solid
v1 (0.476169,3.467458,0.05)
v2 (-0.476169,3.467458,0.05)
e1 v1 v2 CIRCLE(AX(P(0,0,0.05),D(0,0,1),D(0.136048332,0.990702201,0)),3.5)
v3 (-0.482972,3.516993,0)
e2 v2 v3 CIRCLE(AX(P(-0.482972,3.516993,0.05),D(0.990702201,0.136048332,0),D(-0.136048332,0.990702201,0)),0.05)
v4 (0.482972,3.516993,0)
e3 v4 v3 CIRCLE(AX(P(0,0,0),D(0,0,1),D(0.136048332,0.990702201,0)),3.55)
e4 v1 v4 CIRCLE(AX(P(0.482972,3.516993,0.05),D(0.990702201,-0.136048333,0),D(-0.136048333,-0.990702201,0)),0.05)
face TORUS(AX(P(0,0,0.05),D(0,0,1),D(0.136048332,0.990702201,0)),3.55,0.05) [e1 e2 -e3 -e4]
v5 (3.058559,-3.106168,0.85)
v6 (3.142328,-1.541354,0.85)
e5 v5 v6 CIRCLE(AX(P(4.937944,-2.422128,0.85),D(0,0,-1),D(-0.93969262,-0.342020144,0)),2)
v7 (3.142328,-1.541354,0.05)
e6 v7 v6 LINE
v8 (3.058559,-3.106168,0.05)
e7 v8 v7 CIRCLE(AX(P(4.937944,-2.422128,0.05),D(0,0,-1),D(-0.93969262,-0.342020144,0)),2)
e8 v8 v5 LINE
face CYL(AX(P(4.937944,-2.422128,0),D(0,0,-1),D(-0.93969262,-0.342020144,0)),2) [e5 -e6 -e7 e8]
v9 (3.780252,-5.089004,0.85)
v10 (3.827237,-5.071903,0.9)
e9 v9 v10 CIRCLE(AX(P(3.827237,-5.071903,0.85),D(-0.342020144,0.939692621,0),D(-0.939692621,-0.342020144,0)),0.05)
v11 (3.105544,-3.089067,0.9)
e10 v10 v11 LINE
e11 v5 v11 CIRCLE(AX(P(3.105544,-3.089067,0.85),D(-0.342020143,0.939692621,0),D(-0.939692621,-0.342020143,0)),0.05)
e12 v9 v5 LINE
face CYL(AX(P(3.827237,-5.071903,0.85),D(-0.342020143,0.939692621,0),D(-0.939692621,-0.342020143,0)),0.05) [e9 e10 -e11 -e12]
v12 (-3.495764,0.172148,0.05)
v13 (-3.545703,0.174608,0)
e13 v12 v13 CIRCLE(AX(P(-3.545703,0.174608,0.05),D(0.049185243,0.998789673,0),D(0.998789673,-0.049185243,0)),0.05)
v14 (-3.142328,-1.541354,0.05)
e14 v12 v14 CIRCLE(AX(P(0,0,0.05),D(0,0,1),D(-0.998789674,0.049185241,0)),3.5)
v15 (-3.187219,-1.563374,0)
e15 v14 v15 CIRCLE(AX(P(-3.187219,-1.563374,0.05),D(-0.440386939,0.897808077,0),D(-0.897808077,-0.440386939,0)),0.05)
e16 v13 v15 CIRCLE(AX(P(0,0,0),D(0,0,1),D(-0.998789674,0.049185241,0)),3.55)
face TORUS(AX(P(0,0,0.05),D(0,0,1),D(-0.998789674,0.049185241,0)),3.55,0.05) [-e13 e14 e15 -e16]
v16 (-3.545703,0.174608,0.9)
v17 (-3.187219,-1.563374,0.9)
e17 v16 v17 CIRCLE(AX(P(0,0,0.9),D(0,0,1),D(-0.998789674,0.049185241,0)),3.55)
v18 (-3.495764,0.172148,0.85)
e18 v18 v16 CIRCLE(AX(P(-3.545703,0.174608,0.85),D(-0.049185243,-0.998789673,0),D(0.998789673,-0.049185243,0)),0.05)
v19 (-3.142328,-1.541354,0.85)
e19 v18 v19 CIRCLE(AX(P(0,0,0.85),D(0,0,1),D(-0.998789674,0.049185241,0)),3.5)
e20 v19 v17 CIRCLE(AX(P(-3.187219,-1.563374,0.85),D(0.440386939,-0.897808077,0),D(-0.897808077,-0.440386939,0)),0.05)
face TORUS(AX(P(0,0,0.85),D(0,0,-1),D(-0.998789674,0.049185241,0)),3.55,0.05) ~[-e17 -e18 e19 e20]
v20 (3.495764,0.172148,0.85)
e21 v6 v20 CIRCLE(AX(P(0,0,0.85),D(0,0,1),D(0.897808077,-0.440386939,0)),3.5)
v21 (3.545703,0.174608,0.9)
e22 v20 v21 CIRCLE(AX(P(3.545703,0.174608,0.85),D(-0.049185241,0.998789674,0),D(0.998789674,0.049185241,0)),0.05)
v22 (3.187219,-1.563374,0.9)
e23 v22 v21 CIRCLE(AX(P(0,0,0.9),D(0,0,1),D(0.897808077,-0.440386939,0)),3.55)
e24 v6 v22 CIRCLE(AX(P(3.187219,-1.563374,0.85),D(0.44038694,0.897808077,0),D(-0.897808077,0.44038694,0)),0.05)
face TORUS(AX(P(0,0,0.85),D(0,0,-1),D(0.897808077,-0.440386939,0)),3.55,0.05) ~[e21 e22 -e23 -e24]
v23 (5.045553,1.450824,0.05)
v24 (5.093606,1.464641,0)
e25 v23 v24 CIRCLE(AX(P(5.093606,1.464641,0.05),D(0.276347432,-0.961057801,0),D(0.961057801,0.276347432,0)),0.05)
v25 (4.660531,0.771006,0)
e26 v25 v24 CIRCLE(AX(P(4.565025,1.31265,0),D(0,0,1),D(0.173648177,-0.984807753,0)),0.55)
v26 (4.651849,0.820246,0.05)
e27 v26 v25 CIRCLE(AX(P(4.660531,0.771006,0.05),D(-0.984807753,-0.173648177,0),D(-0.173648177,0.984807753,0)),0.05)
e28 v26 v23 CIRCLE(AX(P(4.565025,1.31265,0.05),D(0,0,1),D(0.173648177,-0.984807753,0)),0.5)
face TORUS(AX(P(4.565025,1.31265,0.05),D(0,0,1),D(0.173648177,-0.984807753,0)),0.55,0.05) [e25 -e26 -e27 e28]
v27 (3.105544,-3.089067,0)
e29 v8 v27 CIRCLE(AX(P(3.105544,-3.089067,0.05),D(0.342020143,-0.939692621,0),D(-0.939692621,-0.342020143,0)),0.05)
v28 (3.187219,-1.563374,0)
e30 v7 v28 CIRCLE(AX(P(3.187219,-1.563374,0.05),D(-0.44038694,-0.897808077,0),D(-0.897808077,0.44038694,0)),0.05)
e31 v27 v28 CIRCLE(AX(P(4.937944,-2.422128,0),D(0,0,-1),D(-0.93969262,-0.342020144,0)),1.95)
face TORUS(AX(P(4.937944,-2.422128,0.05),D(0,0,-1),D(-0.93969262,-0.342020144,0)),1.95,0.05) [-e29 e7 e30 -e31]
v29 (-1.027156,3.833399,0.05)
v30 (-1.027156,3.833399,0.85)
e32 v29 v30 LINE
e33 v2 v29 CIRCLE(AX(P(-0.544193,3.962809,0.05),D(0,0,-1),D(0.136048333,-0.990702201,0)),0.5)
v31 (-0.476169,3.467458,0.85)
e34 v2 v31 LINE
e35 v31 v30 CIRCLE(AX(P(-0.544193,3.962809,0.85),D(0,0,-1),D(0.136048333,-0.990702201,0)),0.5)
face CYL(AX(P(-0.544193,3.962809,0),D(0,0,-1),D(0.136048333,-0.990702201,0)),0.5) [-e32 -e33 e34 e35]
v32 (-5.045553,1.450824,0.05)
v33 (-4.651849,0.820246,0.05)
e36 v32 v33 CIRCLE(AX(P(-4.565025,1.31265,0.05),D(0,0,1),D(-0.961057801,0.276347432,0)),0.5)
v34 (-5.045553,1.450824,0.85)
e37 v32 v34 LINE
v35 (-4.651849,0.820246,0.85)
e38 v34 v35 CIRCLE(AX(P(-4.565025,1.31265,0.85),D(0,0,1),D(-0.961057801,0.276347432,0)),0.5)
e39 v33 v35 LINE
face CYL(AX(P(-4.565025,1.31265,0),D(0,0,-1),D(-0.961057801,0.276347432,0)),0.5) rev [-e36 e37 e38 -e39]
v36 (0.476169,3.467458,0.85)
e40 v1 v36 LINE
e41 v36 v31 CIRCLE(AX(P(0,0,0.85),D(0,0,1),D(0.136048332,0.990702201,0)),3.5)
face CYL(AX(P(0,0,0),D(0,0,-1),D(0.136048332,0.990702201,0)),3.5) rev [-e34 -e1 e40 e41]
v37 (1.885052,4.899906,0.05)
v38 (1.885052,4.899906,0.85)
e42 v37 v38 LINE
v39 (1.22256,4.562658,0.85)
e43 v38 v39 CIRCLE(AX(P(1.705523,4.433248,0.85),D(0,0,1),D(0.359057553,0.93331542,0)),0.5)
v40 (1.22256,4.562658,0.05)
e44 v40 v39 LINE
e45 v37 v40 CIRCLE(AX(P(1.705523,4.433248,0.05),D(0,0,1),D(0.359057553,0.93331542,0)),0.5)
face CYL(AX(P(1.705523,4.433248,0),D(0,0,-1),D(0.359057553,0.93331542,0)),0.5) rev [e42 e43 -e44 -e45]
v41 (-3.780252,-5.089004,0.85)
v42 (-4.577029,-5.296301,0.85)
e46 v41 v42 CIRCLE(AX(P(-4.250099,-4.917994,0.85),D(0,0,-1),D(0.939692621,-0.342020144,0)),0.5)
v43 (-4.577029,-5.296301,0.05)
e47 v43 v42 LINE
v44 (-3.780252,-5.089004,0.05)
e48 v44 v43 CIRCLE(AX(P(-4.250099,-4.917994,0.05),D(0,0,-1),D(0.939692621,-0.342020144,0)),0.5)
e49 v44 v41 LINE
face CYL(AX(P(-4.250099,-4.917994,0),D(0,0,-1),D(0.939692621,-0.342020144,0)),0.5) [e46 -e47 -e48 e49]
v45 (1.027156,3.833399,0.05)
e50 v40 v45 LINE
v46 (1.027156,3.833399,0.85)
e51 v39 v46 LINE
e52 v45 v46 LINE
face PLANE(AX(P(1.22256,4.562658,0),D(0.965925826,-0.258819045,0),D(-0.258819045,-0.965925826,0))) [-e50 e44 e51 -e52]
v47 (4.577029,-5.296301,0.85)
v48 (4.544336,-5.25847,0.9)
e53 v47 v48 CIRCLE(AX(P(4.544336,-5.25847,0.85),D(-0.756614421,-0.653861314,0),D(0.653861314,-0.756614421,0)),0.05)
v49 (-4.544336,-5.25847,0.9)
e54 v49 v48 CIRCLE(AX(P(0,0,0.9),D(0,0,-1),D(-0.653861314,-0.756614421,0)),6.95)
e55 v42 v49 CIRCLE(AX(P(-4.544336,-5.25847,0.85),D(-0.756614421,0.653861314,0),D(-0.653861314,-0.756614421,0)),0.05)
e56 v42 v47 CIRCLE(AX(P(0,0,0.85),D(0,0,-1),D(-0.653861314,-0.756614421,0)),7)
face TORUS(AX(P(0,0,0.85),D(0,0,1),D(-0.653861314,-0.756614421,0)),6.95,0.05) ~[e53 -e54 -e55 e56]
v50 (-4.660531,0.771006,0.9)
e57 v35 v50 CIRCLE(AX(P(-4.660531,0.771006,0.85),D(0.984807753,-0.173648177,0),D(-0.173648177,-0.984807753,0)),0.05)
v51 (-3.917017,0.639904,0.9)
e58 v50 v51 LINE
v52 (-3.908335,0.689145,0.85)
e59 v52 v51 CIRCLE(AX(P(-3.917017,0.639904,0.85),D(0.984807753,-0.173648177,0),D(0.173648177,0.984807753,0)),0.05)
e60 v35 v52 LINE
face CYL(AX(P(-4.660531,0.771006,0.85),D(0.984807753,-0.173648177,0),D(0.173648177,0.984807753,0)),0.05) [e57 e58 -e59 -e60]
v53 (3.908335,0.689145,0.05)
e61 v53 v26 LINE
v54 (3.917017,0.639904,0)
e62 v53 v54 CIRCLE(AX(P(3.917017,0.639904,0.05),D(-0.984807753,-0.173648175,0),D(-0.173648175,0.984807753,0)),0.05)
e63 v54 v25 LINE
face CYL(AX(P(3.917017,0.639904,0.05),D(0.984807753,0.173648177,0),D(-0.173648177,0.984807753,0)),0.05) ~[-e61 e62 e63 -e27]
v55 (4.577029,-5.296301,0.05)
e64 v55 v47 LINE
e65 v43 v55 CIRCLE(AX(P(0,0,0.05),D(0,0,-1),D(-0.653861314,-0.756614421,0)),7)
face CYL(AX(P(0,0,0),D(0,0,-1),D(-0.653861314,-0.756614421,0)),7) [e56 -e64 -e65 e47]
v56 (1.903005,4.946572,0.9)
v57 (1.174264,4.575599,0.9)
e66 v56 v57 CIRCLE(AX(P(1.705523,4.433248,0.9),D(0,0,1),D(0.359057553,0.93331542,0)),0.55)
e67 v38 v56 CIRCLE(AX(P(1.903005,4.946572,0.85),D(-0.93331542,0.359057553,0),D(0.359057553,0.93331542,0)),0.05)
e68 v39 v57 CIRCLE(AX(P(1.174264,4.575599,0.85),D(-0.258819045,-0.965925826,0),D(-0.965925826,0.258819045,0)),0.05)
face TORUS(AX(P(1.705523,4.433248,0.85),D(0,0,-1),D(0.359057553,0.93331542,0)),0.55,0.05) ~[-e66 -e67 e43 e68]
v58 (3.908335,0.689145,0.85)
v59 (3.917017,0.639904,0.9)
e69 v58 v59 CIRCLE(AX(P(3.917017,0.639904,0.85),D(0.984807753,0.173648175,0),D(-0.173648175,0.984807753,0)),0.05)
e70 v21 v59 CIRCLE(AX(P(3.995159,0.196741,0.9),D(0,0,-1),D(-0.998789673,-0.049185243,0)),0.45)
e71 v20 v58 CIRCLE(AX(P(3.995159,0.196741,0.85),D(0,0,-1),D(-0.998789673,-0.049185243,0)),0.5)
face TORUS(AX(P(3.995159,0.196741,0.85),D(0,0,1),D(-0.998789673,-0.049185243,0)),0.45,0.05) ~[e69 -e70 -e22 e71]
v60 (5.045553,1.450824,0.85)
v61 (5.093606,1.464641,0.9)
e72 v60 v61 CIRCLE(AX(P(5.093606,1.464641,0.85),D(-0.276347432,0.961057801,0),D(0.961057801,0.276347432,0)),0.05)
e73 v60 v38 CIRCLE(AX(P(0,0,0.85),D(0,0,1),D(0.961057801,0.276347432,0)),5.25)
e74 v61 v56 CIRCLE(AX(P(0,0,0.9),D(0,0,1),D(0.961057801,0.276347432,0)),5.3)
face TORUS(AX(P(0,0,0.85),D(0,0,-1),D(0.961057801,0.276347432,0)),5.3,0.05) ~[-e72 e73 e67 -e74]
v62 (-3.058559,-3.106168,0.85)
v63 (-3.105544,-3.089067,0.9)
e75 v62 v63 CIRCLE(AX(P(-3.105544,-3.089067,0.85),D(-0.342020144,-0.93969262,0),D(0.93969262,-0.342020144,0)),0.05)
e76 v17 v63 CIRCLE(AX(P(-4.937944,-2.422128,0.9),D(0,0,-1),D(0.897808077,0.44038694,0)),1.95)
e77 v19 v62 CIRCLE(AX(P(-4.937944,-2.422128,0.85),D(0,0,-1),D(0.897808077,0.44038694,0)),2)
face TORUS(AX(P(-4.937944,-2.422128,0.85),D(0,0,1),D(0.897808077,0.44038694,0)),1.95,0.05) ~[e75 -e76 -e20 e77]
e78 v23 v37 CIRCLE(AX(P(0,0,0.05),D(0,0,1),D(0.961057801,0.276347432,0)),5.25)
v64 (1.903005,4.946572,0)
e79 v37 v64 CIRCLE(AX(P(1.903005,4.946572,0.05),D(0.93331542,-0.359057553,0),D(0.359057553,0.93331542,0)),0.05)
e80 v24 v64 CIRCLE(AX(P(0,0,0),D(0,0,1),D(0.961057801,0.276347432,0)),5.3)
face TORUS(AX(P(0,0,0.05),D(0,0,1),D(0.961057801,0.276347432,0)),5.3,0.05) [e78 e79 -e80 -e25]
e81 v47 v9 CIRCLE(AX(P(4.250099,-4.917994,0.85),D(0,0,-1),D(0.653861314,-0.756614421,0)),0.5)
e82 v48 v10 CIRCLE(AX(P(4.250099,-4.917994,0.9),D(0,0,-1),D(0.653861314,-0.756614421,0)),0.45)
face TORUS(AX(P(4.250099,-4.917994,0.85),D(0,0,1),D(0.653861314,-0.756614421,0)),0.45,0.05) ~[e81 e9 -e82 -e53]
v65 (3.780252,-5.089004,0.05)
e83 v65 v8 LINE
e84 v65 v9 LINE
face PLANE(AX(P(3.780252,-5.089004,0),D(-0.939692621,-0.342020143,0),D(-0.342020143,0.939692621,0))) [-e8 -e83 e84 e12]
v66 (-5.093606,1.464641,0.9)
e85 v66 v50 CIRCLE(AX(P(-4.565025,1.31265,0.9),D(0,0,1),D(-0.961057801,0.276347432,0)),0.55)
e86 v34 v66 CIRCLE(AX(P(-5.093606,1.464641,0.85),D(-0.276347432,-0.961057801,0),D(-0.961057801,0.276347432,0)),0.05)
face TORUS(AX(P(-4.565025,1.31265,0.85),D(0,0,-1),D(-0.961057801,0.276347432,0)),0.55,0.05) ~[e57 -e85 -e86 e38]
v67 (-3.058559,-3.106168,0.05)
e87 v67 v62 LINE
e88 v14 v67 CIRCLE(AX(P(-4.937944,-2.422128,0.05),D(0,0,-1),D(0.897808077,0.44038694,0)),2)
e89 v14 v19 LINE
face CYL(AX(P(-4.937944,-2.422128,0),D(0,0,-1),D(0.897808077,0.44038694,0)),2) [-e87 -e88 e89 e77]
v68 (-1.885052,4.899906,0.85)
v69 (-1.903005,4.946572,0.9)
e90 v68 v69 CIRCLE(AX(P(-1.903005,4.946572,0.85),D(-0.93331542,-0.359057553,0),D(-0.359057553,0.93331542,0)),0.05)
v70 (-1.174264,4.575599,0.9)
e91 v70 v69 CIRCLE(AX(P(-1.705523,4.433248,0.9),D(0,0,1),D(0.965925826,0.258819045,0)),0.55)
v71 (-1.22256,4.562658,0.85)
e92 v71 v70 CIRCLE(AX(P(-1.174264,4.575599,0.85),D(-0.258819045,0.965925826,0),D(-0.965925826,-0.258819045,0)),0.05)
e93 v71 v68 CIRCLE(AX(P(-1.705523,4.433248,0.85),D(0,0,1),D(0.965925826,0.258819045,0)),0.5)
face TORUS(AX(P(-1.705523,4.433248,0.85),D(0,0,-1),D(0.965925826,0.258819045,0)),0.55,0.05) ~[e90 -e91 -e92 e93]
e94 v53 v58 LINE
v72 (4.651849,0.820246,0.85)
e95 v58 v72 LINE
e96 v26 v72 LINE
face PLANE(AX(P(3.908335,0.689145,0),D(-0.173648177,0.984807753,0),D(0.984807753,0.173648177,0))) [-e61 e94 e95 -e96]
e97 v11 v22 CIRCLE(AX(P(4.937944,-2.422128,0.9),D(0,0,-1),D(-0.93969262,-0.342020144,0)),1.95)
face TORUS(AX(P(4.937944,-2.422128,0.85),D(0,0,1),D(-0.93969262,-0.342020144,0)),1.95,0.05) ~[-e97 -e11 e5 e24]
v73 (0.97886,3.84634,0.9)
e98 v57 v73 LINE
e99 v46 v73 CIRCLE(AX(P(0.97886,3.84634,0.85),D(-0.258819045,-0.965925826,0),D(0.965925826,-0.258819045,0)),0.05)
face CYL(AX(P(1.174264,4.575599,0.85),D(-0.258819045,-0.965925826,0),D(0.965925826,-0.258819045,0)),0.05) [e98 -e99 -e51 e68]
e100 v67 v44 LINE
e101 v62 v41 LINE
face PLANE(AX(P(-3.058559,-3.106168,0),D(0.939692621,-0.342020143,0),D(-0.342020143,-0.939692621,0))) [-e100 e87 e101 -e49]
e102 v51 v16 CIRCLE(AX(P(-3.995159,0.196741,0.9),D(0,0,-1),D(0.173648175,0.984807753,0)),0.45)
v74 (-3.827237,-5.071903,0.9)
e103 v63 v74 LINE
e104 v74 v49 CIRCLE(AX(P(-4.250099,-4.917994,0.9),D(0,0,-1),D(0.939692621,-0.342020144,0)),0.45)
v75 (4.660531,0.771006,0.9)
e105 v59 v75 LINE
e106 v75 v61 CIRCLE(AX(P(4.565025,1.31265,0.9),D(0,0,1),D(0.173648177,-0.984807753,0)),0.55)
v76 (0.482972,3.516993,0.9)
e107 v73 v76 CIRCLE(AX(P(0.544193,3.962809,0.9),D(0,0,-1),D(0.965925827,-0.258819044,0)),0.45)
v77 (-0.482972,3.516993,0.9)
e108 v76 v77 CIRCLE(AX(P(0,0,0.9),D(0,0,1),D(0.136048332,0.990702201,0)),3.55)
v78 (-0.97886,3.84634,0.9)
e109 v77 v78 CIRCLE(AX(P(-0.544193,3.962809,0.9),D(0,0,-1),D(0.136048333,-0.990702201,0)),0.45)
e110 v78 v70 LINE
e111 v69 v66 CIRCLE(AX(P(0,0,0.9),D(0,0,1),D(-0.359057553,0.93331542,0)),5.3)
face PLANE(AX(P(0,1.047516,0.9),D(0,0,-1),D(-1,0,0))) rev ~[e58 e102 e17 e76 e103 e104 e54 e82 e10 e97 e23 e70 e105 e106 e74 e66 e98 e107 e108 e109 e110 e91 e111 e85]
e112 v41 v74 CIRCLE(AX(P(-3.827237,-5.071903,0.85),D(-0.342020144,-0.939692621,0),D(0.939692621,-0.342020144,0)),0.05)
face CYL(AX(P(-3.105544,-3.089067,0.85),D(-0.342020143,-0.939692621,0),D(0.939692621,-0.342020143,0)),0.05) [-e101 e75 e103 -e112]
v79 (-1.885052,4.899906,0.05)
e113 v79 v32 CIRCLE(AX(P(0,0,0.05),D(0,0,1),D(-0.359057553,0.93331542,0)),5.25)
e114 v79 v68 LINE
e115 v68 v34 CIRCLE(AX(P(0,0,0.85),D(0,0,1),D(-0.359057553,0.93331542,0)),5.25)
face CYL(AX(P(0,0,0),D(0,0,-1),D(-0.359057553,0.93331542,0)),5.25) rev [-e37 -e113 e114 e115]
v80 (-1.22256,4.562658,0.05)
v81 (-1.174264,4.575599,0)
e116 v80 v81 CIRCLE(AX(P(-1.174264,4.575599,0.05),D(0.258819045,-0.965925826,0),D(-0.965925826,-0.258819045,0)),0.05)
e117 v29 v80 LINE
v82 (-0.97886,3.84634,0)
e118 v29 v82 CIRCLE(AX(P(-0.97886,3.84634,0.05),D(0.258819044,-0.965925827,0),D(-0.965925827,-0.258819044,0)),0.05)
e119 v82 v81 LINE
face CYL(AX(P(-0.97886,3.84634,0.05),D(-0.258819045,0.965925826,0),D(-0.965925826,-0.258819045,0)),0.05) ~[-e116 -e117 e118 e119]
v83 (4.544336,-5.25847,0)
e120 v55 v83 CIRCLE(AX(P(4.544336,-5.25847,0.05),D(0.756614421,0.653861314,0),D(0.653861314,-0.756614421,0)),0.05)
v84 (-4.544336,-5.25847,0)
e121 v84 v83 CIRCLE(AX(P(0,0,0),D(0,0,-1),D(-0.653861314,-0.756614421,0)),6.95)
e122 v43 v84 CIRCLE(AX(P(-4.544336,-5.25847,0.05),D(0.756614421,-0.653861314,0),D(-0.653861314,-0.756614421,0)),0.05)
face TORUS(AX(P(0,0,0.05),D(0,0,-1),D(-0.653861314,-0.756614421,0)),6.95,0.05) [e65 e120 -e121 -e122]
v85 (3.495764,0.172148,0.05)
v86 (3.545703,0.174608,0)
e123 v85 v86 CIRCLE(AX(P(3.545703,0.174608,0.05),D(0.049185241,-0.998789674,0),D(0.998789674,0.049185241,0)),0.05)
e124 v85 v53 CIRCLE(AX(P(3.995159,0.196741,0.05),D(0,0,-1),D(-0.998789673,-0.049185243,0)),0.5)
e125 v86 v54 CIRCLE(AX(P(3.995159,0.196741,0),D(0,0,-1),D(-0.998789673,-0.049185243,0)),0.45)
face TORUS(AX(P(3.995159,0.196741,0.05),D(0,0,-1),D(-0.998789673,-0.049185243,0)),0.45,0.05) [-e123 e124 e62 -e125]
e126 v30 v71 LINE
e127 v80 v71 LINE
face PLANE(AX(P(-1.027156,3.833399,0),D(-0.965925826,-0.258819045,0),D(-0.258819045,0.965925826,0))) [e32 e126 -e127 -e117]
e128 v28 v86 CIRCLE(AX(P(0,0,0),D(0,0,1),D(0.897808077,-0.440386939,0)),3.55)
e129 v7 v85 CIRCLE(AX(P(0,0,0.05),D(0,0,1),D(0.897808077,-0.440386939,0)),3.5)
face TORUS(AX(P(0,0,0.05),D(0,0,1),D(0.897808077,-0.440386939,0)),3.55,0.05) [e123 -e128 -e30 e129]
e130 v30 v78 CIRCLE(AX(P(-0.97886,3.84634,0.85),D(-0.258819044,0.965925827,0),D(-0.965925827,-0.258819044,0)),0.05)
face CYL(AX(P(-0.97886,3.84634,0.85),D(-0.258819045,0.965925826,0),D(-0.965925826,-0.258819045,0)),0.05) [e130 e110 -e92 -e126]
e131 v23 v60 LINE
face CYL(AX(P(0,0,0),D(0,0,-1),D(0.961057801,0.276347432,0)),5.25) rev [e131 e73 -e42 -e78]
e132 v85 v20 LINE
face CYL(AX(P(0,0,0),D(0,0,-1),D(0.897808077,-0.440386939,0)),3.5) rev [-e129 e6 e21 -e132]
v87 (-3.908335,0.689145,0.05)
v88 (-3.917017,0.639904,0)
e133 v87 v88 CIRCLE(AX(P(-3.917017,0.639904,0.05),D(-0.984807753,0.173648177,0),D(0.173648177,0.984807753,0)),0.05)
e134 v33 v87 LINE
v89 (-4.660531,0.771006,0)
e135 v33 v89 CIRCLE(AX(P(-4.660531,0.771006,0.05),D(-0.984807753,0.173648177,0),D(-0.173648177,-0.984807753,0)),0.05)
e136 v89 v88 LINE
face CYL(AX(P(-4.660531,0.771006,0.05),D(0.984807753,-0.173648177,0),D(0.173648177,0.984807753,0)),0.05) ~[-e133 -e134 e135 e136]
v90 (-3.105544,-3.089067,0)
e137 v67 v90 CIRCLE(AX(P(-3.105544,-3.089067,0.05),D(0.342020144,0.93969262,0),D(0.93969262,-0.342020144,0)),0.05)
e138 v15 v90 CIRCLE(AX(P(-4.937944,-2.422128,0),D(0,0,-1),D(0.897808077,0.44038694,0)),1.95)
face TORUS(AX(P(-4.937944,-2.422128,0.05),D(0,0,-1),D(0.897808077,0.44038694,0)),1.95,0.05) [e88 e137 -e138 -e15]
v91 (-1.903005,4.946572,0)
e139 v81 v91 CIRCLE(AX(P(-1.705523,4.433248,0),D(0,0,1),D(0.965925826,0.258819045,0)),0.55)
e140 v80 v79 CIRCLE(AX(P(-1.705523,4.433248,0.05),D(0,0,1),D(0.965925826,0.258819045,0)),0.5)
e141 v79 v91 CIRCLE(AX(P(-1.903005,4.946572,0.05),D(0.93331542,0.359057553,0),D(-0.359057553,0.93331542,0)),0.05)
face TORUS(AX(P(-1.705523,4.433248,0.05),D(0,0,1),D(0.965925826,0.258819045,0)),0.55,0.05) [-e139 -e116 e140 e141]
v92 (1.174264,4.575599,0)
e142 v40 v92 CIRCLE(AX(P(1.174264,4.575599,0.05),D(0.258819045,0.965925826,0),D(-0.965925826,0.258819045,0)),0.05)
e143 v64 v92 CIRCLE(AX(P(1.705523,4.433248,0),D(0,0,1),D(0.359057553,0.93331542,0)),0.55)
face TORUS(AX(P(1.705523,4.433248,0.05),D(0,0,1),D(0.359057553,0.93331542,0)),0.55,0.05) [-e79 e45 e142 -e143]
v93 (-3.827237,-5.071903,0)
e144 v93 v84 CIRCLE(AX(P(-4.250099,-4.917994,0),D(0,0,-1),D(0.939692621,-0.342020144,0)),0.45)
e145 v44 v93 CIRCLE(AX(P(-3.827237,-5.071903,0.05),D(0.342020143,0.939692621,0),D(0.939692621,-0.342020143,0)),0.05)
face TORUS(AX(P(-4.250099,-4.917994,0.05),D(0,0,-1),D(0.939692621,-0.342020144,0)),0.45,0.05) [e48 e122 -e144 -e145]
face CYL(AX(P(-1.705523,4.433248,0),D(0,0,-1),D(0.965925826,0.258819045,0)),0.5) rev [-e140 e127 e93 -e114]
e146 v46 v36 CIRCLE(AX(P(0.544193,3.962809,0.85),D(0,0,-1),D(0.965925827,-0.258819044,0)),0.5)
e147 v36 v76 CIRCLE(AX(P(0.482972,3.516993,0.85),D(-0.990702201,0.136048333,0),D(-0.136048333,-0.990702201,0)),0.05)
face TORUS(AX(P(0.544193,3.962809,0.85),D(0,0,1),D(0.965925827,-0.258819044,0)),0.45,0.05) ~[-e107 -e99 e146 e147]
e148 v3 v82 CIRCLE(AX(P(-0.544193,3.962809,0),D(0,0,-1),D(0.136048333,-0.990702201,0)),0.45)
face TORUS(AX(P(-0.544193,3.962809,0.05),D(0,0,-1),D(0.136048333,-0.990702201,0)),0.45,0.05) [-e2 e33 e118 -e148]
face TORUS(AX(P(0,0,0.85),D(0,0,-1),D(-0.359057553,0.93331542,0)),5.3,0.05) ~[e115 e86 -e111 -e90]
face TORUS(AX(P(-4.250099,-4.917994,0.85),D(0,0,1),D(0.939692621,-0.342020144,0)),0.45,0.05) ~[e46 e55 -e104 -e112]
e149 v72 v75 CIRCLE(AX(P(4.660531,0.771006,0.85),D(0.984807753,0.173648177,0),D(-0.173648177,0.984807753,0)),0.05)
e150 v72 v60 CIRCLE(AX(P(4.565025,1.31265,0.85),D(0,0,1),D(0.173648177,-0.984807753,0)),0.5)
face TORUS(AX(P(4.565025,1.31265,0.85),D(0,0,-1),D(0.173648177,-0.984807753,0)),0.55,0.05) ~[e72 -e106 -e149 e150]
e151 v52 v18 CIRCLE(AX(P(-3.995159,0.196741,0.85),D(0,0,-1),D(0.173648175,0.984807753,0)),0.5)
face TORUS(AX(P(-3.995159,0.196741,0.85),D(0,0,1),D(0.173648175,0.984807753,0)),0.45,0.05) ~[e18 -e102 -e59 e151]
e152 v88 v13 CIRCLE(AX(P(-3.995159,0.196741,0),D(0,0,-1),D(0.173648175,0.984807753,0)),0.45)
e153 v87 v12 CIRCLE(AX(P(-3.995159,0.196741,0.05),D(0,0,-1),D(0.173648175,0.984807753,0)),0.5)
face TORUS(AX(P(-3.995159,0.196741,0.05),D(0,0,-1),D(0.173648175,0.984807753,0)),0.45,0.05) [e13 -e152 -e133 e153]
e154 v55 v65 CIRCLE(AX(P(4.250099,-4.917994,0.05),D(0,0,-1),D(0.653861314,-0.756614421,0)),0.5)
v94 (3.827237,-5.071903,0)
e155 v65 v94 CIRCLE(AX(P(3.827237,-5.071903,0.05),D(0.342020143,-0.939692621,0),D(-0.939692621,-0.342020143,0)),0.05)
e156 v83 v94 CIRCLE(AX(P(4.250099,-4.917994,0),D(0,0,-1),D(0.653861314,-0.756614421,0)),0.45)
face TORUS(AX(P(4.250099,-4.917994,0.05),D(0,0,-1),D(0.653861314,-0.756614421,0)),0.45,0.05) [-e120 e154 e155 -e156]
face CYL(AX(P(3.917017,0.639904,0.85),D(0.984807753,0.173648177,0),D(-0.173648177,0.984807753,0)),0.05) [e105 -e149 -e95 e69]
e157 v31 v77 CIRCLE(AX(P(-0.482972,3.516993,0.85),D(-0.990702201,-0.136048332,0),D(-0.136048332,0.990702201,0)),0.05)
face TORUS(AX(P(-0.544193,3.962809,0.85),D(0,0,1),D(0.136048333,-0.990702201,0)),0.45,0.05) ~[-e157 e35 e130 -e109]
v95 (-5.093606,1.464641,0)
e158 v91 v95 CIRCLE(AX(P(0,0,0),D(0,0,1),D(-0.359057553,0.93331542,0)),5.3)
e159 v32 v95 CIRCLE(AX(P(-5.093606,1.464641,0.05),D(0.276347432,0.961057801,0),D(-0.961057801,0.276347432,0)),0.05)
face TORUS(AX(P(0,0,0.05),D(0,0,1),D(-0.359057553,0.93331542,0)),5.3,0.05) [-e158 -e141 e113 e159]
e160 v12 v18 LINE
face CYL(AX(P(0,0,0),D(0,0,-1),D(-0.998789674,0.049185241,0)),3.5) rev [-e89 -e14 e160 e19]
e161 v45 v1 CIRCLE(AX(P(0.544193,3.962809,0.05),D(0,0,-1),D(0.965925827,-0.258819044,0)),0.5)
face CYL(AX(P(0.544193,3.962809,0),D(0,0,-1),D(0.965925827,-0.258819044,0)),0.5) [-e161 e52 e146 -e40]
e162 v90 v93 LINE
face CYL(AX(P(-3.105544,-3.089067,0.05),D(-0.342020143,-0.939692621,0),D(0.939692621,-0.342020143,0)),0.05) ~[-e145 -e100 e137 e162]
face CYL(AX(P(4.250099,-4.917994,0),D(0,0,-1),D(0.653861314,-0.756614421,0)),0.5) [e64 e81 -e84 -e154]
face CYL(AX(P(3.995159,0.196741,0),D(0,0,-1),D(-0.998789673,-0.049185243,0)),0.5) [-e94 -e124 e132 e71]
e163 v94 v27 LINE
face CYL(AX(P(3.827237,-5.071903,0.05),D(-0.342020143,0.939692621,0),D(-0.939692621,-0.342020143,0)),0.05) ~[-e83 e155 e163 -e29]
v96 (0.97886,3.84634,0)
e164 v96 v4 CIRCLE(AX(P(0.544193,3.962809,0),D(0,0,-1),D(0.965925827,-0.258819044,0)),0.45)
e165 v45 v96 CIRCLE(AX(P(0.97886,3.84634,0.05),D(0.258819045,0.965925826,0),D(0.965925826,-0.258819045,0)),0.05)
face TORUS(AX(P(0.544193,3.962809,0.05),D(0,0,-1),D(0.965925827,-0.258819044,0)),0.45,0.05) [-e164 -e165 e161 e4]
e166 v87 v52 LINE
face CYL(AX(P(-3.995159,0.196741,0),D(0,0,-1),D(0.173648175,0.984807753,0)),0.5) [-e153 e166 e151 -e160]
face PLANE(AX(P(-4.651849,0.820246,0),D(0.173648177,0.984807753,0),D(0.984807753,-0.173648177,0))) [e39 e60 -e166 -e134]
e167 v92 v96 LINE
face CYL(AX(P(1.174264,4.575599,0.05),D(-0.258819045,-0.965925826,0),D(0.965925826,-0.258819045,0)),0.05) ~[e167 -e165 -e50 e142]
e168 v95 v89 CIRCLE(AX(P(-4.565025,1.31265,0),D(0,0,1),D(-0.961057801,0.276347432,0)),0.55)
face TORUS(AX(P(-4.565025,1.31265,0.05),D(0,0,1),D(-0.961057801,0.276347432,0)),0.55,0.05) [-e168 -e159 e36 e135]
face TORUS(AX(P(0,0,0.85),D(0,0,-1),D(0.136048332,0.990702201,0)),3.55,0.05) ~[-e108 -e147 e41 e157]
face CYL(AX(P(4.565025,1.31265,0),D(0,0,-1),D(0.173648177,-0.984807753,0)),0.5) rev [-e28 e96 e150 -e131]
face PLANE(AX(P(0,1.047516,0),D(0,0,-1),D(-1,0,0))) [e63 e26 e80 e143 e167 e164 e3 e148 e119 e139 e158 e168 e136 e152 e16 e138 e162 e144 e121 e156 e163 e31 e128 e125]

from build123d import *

# Parameters (mm, degrees)
EXTRUDE_1_DEPTH = 0.9
FILLET_1_R      = 0.05


with BuildPart() as part:
    # 草图1 → 凸台-拉伸1 (new body)
    with BuildSketch(Plane.XY):
        with BuildLine():
            Line((-3.058559184, -3.106168453), (-3.780252232, -5.089003807))
            ThreePointArc((-3.780252232, -5.089003807), (-4.12420475, -5.401884997), (-4.5770292, -5.296300946))
            ThreePointArc((-4.5770292, -5.296300946), (0, 7), (4.5770292, -5.296300946))
            ThreePointArc((4.5770292, -5.296300946), (4.12420475, -5.401884997), (3.780252232, -5.089003807))
            Line((3.780252232, -5.089003807), (3.058559184, -3.106168453))
            ThreePointArc((3.058559184, -3.106168453), (2.940804055, -2.315215391), (3.142328271, -1.541354288))
            ThreePointArc((3.142328271, -1.541354288), (3.427840369, -0.707043427), (3.495763858, 0.172148344))
            ThreePointArc((3.495763858, 0.172148344), (3.604346077, 0.508615135), (3.908334606, 0.689144841))
            Line((3.908334606, 0.689144841), (4.651848643, 0.820246426))
            ThreePointArc((4.651848643, 0.820246426), (4.989146446, 1.047847317), (5.045553455, 1.450824019))
            ThreePointArc((5.045553455, 1.450824019), (3.870706018, 3.54684859), (1.885052154, 4.899905956))
            ThreePointArc((1.885052154, 4.899905956), (1.478692705, 4.878835326), (1.222560464, 4.562657768))
            Line((1.222560464, 4.562657768), (1.027156242, 3.833399282))
            ThreePointArc((1.027156242, 3.833399282), (0.82081916, 3.546301722), (0.476169163, 3.467457704))
            ThreePointArc((0.476169163, 3.467457704), (0, 3.5), (-0.476169163, 3.467457704))
            ThreePointArc((-0.476169163, 3.467457704), (-0.82081916, 3.546301722), (-1.027156242, 3.833399282))
            Line((-1.027156242, 3.833399282), (-1.222560464, 4.562657768))
            ThreePointArc((-1.222560464, 4.562657768), (-1.478692705, 4.878835326), (-1.885052154, 4.899905956))
            ThreePointArc((-1.885052154, 4.899905956), (-3.870706018, 3.54684859), (-5.045553455, 1.450824019))
            ThreePointArc((-5.045553455, 1.450824019), (-4.989146446, 1.047847317), (-4.651848643, 0.820246426))
            Line((-4.651848643, 0.820246426), (-3.908334606, 0.689144841))
            ThreePointArc((-3.908334606, 0.689144841), (-3.604346077, 0.508615135), (-3.495763858, 0.172148344))
            ThreePointArc((-3.495763858, 0.172148344), (-3.427840369, -0.707043427), (-3.142328271, -1.541354288))
            ThreePointArc((-3.142328271, -1.541354288), (-2.940804055, -2.315215391), (-3.058559184, -3.106168453))
        make_face()
    extrude(amount=EXTRUDE_1_DEPTH)

    # 圆角1
    fillet_1_edges = [part.edges().sort_by_distance(p)[0] for p in [
        (-4.12420475, -5.401884997, 0.9),
        (-3.419405708, -4.09758613, 0.9),
        (-2.940804055, -2.315215391, 0.9),
        (3.419405708, -4.09758613, 0),
        (2.940804055, -2.315215391, 0),
        (3.427840369, -0.707043427, 0),
        (3.604346077, 0.508615135, 0),
        (4.280091624, 0.754695633, 0),
        (-3.427840369, -0.707043427, 0.9),
        (4.989146446, 1.047847317, 0),
        (3.870706018, 3.54684859, 0),
        (1.478692705, 4.878835326, 0),
        (1.124858353, 4.198028525, 0),
        (0.82081916, 3.546301722, 0),
        (0, 3.5, 0),
        (-0.82081916, 3.546301722, 0),
        (-1.124858353, 4.198028525, 0),
        (-1.478692705, 4.878835326, 0),
        (-3.870706018, 3.54684859, 0),
        (-3.604346077, 0.508615135, 0.9),
        (-4.989146446, 1.047847317, 0),
        (-4.280091624, 0.754695633, 0),
        (-3.604346077, 0.508615135, 0),
        (-3.427840369, -0.707043427, 0),
        (-2.940804055, -2.315215391, 0),
        (-3.419405708, -4.09758613, 0),
        (-4.12420475, -5.401884997, 0),
        (0, 7, 0),
        (4.12420475, -5.401884997, 0),
        (-4.280091624, 0.754695633, 0.9),
        (-4.989146446, 1.047847317, 0.9),
        (-3.870706018, 3.54684859, 0.9),
        (-1.478692705, 4.878835326, 0.9),
        (-1.124858353, 4.198028525, 0.9),
        (4.12420475, -5.401884997, 0.9),
        (-0.82081916, 3.546301722, 0.9),
        (0, 3.5, 0.9),
        (0.82081916, 3.546301722, 0.9),
        (1.124858353, 4.198028525, 0.9),
        (1.478692705, 4.878835326, 0.9),
        (3.870706018, 3.54684859, 0.9),
        (4.989146446, 1.047847317, 0.9),
        (4.280091624, 0.754695633, 0.9),
        (3.604346077, 0.508615135, 0.9),
        (3.427840369, -0.707043427, 0.9),
        (0, 7, 0.9),
        (2.940804055, -2.315215391, 0.9),
        (3.419405708, -4.09758613, 0.9),
    ]]
    fillet(fillet_1_edges, radius=FILLET_1_R)


solid = part.part
